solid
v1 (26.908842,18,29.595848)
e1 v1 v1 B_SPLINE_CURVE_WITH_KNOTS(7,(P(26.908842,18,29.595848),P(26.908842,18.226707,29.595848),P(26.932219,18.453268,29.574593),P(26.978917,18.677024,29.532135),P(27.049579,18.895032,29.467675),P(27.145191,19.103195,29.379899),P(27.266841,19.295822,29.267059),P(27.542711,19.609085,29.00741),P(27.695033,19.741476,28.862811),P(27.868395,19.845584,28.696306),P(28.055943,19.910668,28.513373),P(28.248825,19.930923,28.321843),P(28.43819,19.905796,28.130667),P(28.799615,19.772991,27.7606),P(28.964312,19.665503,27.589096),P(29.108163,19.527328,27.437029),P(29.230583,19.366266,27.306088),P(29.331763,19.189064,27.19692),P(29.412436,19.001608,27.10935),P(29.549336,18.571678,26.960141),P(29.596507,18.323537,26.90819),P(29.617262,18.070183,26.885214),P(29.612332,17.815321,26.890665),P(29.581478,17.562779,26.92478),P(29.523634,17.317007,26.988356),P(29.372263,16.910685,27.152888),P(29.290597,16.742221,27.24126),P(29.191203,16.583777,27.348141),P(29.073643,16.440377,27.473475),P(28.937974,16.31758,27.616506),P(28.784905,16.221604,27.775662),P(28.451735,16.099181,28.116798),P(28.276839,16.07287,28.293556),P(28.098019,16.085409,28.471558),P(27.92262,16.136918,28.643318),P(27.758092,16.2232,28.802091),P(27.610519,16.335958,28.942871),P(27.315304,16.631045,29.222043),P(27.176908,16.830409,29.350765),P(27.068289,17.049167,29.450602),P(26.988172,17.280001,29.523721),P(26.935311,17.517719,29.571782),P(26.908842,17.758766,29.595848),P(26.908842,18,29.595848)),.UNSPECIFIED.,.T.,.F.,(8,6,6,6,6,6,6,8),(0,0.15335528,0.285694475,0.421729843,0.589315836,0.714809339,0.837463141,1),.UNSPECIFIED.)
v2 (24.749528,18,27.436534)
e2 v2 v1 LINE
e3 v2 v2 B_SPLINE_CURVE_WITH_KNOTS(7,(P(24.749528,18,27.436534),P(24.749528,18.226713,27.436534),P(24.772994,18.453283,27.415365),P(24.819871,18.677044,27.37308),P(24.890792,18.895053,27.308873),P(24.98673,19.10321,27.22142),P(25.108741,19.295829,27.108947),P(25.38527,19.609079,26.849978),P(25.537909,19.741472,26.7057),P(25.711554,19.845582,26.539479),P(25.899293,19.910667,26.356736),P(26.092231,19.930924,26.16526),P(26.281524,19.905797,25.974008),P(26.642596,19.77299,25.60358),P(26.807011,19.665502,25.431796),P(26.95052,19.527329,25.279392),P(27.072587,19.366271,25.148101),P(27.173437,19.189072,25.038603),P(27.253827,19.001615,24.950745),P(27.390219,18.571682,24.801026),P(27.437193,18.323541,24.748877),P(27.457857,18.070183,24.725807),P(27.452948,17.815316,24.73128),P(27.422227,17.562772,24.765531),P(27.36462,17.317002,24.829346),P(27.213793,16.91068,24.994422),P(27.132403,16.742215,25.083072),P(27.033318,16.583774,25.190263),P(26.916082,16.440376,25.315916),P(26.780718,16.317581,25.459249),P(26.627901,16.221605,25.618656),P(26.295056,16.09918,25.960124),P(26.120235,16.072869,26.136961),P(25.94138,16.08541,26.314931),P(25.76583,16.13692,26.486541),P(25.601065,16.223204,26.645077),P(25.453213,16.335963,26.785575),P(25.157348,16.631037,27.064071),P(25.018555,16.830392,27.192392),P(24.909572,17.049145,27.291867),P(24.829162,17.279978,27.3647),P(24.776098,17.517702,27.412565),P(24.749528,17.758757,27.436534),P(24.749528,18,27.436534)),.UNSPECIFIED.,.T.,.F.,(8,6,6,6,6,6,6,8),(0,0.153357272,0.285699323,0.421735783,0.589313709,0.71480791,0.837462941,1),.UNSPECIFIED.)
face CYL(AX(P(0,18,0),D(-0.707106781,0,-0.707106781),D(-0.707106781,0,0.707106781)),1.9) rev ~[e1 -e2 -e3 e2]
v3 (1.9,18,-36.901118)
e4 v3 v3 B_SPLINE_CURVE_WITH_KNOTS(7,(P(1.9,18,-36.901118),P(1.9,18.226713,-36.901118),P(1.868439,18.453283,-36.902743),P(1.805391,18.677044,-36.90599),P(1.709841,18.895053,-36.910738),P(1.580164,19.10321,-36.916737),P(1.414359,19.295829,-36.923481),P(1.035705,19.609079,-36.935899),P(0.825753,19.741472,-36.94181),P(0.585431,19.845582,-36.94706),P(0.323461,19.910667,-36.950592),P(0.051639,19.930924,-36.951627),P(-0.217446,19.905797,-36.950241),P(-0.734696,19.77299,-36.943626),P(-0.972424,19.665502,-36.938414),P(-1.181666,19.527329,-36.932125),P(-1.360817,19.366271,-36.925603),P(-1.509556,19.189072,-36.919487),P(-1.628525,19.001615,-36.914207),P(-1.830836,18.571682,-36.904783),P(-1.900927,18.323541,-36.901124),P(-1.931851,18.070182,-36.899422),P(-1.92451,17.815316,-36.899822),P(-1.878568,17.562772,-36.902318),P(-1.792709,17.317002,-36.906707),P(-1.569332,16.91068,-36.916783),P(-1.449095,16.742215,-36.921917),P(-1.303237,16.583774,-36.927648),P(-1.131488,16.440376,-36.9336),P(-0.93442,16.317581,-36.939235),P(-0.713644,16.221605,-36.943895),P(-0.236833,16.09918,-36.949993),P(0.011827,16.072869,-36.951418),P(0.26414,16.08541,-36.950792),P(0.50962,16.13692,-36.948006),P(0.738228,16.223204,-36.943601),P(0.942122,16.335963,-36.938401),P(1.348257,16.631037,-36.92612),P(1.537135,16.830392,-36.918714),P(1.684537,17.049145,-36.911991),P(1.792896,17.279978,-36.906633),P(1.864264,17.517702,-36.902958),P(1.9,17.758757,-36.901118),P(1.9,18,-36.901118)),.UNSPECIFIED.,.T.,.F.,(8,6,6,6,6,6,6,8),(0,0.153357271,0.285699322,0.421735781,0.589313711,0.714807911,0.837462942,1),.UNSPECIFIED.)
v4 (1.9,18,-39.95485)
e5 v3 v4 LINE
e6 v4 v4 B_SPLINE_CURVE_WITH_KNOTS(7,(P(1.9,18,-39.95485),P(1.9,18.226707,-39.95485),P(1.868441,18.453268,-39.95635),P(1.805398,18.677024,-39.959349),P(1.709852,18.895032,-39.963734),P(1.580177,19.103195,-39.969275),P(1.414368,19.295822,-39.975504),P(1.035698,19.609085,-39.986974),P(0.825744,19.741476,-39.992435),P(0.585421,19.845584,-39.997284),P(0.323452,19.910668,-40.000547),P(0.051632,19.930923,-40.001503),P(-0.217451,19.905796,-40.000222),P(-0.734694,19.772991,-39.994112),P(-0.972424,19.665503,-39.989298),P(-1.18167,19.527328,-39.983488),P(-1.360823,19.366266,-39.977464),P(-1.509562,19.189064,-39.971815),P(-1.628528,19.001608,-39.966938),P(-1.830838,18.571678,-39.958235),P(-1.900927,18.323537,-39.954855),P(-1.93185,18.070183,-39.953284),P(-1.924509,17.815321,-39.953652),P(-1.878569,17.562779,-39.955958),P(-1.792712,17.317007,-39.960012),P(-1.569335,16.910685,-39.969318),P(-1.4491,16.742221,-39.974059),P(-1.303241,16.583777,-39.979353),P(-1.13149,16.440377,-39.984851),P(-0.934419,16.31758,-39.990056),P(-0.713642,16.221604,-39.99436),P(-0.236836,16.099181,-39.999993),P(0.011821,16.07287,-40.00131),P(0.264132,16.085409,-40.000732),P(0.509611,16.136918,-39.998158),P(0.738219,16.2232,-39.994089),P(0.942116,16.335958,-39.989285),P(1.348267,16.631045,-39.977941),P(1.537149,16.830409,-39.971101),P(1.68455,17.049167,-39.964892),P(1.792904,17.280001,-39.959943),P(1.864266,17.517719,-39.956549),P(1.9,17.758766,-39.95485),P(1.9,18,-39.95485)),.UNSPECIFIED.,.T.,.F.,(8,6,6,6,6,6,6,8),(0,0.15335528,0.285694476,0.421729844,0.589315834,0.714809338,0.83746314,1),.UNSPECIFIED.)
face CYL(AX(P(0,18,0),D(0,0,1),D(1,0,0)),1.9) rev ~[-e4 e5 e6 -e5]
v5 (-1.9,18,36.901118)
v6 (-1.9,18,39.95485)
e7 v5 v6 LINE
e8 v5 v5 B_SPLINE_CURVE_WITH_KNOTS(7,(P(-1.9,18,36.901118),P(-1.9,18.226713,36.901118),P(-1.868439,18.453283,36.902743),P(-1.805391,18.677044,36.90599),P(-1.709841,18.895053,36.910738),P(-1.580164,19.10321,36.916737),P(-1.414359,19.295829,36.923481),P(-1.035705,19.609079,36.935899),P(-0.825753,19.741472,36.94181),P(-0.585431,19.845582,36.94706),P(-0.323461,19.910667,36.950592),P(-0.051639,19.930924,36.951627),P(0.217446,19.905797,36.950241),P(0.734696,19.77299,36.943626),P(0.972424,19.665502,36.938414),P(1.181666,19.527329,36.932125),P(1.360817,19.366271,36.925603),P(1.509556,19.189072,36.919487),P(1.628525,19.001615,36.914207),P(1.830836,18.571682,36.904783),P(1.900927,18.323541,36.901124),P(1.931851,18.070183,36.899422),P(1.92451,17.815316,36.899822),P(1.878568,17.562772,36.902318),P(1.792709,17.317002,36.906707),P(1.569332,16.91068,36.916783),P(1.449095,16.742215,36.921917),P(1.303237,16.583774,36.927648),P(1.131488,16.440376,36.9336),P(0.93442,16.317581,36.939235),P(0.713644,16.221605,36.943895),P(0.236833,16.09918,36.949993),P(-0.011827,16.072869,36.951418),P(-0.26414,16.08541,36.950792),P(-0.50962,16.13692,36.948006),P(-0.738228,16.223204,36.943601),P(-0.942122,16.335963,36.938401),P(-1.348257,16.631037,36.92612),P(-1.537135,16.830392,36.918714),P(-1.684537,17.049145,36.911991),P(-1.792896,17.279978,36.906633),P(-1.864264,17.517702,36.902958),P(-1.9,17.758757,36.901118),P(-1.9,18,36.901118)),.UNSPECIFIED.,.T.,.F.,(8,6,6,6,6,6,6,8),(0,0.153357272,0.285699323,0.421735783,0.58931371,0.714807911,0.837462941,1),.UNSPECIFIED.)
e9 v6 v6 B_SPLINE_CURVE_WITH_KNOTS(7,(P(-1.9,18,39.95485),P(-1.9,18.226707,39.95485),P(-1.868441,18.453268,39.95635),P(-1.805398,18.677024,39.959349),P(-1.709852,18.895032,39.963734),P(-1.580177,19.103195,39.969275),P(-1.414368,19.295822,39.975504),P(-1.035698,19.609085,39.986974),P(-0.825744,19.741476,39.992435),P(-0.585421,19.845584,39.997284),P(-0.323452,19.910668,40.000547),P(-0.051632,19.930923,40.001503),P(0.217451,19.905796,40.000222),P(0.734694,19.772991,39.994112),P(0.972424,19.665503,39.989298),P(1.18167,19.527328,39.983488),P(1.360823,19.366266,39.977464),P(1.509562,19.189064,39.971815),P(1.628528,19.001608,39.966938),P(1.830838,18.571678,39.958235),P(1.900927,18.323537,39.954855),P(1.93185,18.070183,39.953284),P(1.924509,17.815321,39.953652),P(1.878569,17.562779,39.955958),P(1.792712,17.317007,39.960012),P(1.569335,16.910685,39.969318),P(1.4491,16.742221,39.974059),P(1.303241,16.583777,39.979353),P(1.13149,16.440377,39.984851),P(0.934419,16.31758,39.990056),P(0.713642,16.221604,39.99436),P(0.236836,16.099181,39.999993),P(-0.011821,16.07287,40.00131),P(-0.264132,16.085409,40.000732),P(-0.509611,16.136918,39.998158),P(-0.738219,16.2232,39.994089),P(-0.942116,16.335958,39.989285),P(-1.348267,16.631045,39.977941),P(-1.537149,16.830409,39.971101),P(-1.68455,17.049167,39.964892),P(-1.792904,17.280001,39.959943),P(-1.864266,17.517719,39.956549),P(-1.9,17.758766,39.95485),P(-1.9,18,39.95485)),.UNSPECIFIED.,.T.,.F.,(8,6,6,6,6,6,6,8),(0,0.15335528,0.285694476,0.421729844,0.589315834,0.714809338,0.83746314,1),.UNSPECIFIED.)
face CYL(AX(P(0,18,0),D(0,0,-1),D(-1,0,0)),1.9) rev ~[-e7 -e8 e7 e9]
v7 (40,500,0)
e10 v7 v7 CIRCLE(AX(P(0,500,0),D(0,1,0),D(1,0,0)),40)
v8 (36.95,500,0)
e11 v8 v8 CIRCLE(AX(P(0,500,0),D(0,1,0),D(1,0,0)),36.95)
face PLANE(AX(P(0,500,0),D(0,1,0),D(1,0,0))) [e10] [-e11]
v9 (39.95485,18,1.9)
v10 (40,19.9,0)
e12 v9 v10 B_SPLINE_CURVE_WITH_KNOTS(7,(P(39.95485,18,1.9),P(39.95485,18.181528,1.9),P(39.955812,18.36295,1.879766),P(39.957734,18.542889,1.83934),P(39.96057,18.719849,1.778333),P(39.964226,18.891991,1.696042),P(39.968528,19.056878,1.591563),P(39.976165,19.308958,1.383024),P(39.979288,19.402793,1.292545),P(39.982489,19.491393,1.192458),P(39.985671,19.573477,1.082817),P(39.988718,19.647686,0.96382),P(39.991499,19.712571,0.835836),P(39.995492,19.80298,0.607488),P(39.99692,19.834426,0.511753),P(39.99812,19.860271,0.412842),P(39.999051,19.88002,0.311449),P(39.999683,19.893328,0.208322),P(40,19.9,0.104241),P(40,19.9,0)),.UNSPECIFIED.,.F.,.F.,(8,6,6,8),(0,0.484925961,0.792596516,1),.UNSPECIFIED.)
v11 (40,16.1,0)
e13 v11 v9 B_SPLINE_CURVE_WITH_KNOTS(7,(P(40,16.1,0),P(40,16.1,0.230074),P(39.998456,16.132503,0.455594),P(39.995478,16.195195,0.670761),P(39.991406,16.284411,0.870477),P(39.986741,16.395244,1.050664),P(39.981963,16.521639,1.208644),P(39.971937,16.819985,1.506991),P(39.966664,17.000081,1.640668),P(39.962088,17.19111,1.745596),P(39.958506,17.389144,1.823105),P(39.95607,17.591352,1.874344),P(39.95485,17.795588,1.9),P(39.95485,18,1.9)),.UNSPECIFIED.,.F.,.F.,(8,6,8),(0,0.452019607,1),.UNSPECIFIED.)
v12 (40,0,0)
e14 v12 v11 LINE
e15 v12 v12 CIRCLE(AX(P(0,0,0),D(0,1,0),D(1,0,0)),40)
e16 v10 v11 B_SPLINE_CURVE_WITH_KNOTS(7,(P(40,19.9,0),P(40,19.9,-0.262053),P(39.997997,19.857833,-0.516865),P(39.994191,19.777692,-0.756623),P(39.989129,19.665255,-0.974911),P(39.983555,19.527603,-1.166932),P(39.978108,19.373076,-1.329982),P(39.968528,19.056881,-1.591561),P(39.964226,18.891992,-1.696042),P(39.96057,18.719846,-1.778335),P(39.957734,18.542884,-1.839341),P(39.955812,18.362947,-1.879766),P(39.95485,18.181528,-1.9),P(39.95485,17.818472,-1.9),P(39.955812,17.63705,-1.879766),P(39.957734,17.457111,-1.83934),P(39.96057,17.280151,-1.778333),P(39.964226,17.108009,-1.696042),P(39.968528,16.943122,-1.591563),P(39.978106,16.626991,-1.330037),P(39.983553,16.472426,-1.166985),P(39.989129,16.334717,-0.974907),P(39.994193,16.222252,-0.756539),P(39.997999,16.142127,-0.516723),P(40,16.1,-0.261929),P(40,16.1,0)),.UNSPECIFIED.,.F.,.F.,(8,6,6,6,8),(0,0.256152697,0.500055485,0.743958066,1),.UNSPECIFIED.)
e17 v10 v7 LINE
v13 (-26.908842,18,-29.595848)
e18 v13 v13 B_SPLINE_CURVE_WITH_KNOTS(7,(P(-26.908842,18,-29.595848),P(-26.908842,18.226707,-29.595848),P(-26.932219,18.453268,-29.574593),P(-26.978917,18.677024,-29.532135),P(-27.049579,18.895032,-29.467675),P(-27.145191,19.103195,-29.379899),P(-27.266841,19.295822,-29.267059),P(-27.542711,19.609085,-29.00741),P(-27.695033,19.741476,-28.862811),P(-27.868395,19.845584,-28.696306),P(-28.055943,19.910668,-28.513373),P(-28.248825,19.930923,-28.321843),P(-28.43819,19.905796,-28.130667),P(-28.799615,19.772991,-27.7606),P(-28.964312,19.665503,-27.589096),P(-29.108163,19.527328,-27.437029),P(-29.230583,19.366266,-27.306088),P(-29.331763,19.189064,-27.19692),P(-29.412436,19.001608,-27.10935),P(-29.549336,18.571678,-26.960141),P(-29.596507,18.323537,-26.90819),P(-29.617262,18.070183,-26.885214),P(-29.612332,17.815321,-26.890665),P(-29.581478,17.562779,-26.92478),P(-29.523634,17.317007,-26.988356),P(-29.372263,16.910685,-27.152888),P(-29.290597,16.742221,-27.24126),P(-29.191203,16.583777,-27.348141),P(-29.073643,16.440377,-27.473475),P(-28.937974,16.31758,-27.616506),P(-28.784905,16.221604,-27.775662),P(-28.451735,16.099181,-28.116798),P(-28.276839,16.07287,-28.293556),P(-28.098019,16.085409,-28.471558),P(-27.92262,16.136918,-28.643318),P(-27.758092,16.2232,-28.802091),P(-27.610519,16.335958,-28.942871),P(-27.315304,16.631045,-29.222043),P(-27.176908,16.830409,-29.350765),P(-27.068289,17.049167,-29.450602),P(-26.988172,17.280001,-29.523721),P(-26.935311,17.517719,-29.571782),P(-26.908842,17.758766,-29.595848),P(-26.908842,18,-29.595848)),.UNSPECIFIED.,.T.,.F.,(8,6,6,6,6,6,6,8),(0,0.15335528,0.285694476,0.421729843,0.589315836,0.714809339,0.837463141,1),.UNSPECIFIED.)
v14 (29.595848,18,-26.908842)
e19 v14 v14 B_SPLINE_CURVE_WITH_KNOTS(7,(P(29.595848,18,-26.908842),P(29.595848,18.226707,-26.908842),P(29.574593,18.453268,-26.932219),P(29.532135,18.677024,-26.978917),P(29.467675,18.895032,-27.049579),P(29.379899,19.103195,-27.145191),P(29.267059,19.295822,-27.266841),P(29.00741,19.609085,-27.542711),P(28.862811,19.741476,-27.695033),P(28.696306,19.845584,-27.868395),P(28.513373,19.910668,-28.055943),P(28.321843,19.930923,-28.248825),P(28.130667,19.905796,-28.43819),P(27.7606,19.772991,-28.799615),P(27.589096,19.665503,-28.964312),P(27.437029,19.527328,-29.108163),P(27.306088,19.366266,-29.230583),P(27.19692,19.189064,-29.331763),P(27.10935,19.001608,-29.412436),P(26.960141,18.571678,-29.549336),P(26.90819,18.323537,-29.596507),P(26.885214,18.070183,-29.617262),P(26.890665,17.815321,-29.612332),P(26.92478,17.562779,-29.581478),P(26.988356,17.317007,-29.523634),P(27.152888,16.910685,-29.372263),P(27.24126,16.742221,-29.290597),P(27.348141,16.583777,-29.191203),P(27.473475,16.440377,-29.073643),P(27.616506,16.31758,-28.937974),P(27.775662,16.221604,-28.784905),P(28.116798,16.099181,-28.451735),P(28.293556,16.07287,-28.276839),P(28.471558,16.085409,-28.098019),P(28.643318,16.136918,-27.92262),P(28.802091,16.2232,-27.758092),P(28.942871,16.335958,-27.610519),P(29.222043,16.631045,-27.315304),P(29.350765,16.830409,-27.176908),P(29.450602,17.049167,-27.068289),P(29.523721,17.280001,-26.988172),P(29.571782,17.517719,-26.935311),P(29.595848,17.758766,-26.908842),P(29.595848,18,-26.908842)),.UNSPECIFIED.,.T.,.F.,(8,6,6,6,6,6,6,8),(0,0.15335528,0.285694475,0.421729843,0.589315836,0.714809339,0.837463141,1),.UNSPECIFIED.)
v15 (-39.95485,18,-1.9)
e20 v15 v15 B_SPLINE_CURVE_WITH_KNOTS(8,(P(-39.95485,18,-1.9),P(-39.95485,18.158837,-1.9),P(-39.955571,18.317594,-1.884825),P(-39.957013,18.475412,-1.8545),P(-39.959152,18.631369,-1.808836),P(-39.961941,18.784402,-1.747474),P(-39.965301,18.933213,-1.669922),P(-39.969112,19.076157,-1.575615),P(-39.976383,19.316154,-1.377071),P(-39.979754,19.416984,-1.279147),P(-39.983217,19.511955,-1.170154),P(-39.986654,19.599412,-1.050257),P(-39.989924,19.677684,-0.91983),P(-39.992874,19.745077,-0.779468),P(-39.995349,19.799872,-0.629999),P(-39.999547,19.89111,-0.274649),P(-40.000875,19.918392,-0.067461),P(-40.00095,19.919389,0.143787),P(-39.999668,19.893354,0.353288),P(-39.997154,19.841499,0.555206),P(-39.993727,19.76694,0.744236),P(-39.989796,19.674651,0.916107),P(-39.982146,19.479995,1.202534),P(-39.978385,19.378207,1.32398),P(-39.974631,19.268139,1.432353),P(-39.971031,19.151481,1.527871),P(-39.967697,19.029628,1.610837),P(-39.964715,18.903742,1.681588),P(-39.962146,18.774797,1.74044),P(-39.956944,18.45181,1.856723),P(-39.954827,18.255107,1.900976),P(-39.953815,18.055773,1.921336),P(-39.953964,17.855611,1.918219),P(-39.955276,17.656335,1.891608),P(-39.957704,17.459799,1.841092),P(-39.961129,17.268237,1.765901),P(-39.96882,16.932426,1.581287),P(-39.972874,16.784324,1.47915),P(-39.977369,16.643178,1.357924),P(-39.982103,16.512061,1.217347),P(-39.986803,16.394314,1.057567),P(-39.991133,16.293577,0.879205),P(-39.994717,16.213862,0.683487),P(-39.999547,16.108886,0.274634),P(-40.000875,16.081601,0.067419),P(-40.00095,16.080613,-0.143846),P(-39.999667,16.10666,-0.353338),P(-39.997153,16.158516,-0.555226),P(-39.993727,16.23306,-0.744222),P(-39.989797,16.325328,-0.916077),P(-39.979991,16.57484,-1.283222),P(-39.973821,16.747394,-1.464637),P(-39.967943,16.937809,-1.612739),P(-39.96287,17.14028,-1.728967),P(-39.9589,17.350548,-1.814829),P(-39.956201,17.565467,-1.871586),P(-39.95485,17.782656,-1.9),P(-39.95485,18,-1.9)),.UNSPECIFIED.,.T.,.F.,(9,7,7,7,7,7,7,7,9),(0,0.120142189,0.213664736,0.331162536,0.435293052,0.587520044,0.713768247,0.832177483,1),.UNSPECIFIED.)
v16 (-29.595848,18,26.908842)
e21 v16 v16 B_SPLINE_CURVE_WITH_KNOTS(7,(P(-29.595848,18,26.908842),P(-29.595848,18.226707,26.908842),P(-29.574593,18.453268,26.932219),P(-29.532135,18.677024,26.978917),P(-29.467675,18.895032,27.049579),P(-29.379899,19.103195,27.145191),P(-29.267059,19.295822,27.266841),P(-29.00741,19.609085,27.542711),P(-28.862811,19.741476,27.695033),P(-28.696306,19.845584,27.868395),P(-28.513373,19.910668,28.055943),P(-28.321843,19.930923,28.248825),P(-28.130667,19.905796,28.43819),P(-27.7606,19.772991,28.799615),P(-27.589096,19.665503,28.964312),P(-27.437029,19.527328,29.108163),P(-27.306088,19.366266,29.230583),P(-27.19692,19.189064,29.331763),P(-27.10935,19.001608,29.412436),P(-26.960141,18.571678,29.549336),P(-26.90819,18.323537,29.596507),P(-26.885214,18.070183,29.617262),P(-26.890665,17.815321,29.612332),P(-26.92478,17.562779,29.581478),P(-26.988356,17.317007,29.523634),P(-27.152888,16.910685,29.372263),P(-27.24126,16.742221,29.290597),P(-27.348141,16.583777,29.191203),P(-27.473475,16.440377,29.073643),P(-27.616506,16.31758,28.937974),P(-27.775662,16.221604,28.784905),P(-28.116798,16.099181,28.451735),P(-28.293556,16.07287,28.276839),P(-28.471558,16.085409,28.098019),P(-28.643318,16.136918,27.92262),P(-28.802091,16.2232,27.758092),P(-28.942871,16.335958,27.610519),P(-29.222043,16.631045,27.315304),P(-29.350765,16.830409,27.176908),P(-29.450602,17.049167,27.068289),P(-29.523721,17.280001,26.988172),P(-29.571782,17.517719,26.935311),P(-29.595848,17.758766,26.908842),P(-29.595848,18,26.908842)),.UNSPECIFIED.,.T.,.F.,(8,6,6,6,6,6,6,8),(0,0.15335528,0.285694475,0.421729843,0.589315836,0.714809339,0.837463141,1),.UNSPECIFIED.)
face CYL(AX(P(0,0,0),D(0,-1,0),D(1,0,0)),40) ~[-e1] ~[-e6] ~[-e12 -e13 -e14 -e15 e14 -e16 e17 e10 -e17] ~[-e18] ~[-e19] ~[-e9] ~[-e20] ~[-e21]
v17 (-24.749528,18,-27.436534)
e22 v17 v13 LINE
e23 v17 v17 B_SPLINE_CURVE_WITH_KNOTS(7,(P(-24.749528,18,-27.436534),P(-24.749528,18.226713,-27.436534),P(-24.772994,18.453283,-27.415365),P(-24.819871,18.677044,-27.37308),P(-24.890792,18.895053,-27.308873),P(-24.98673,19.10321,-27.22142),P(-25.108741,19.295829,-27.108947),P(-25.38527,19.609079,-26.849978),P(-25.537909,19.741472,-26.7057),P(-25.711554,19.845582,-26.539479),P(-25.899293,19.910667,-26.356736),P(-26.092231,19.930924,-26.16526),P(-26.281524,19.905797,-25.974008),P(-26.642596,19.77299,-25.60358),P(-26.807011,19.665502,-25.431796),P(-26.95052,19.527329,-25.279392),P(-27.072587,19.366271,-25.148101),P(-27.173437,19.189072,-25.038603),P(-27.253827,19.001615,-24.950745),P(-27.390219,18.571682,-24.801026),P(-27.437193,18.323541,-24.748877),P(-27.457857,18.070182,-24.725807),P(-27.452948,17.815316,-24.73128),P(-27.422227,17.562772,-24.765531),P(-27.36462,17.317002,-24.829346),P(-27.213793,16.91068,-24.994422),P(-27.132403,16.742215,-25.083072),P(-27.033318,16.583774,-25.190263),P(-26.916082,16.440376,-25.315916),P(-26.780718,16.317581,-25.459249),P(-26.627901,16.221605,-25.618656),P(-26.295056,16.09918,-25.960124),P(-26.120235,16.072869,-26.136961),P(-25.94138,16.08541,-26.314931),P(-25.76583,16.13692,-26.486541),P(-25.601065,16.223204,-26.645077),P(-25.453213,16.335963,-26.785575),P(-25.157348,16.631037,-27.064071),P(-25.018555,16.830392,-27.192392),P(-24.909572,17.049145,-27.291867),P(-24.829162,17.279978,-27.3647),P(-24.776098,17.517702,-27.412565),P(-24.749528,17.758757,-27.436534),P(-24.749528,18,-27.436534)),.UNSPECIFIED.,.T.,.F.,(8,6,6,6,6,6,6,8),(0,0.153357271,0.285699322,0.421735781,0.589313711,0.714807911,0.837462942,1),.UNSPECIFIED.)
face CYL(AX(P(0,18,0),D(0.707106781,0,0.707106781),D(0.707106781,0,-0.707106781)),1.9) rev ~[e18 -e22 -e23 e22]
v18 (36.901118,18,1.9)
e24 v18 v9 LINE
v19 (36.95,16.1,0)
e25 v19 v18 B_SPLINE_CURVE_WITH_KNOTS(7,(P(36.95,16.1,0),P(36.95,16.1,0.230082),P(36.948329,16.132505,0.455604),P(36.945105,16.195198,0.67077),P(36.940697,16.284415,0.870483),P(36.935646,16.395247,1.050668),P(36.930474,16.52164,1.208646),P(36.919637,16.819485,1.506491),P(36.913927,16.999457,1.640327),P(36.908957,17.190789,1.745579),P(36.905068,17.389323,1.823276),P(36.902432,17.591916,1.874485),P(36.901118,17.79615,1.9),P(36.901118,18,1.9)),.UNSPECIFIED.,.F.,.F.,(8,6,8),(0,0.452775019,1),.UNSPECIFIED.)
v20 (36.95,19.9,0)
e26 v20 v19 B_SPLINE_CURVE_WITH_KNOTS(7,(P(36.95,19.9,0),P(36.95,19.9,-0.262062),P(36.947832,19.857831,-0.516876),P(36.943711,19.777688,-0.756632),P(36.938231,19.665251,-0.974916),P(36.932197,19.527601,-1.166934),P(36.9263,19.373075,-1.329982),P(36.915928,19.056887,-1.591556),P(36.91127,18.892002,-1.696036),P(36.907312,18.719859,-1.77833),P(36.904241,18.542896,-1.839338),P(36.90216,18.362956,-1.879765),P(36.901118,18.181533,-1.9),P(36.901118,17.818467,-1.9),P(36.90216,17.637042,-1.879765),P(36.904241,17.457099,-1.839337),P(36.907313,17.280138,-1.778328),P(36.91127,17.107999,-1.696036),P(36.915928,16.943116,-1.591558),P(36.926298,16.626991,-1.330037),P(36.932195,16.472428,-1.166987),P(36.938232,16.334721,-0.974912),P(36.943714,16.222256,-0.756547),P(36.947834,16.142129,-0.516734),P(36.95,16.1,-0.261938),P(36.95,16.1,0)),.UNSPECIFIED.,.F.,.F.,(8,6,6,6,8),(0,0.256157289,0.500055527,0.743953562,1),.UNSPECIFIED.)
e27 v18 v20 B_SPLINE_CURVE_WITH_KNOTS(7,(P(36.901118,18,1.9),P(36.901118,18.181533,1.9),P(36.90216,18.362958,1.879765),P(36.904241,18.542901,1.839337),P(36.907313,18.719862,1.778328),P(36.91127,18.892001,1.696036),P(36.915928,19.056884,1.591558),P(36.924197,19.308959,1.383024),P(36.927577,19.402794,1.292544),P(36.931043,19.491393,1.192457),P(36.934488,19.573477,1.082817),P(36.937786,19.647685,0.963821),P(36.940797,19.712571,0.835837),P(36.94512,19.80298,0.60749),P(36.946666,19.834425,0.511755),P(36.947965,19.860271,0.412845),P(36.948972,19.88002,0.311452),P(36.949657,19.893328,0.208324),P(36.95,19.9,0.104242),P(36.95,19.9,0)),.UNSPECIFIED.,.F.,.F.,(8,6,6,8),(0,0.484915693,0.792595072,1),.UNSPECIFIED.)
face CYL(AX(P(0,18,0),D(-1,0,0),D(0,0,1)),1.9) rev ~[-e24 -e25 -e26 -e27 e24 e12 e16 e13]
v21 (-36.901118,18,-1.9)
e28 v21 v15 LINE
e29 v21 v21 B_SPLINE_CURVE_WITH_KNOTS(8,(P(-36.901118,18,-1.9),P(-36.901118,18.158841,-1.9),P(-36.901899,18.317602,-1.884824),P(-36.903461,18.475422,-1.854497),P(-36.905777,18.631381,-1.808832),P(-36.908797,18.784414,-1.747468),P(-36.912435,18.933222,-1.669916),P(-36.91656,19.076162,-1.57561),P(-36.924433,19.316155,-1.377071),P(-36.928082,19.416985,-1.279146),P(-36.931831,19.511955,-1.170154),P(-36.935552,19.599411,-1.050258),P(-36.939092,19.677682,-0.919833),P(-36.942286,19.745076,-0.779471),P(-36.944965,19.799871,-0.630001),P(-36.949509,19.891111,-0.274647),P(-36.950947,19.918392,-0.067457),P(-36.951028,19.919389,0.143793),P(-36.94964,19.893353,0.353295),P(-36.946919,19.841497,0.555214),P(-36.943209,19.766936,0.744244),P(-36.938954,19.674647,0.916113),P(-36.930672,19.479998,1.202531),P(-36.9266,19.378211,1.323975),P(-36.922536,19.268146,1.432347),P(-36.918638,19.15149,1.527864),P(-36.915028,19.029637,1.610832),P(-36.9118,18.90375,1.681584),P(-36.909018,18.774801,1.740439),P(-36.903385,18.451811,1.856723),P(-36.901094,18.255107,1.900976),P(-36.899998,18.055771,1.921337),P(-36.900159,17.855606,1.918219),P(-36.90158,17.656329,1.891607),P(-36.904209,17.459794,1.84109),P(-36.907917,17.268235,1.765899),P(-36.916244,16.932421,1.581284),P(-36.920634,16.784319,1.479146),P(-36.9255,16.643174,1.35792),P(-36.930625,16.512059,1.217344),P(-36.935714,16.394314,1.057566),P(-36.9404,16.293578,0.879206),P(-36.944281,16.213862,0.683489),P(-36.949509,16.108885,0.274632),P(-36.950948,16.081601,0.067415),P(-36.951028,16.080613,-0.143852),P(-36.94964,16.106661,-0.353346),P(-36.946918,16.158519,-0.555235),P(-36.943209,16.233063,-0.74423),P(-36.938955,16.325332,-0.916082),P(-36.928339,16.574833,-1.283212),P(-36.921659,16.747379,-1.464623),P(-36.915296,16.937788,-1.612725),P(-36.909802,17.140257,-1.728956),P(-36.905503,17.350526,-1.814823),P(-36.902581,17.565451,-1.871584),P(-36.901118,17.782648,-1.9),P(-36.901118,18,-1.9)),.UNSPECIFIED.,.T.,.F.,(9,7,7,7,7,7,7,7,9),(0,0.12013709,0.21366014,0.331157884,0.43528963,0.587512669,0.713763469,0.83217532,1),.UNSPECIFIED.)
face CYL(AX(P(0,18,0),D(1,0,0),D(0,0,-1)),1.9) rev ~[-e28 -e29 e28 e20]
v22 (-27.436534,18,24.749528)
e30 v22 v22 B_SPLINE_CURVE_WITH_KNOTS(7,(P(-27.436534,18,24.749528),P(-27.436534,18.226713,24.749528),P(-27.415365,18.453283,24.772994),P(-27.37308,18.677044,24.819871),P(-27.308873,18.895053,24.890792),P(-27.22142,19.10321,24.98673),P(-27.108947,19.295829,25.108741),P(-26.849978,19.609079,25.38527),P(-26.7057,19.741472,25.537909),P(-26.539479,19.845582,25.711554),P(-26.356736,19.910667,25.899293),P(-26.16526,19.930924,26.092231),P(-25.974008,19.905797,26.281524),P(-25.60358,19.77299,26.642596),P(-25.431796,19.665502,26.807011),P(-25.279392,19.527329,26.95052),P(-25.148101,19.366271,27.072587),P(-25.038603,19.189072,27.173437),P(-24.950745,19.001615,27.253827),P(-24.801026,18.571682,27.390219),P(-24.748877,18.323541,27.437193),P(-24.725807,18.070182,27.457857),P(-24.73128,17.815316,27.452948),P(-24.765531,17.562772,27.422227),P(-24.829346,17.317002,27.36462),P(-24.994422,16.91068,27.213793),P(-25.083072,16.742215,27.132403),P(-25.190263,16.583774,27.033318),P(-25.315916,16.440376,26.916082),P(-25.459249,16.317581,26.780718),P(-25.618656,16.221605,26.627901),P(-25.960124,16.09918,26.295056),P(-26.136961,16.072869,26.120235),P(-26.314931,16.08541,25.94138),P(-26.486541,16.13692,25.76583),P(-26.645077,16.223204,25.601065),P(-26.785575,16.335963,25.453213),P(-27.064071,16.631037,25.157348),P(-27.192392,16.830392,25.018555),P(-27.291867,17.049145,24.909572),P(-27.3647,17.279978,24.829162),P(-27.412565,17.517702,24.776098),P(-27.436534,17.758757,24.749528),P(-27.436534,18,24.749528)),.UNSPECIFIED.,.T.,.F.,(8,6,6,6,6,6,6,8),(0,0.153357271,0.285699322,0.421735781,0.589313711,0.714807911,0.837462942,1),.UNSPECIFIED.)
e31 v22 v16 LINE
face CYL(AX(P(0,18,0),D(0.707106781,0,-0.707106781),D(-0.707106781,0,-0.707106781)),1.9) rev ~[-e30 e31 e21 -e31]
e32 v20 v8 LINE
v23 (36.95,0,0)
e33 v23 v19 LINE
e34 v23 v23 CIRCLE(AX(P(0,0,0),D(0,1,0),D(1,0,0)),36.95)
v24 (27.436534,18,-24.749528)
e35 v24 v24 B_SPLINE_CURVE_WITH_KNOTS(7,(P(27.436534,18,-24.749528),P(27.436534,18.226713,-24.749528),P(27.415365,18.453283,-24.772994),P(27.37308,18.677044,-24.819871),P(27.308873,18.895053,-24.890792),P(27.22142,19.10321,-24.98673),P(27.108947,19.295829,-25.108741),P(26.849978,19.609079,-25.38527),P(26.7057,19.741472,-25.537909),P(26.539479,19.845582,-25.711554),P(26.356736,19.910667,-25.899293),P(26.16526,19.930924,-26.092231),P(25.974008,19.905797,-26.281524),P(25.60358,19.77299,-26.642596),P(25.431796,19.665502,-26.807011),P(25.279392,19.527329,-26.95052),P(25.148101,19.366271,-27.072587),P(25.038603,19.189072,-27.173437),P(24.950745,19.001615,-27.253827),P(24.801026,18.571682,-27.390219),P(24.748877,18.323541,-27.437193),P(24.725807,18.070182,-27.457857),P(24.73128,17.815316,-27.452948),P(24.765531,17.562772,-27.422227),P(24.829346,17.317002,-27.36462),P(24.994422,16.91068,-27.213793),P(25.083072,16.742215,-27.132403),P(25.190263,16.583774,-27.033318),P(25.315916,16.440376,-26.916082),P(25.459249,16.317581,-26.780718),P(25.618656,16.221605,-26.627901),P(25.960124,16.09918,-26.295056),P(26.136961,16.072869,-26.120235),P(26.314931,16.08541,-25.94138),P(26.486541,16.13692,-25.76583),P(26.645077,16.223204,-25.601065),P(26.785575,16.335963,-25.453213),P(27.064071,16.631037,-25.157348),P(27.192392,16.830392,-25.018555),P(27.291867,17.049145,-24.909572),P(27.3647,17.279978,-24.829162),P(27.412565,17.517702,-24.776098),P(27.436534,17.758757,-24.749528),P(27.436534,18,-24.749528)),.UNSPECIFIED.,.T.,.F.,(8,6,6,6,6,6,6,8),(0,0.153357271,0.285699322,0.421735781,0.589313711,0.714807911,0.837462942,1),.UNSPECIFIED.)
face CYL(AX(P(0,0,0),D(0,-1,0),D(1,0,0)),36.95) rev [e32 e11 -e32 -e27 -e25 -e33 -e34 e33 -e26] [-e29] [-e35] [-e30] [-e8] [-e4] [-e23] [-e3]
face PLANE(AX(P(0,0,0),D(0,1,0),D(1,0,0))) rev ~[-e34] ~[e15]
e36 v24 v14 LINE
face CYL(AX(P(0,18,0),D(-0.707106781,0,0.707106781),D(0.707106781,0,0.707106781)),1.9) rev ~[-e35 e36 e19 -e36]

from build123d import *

# Parameters (mm, degrees)
SKETCH1_R           = 40
SKETCH1_R_2         = 36.95
BOSS_EXTRUDE1_DEPTH = 500
SKETCH2_R           = 1.9
CUT_EXTRUDE1_DEPTH  = 66
CIRPATTERN2_COUNT   = 8


with BuildPart() as part:
    # Sketch1 → Boss-Extrude1 (new body)
    with BuildSketch(Plane(origin=(0, 0, 0), x_dir=(1, 0, 0), z_dir=(0, 1, 0))):
        Circle(SKETCH1_R)
        Circle(SKETCH1_R_2, mode=Mode.SUBTRACT)
    extrude(amount=BOSS_EXTRUDE1_DEPTH)

    # Sketch2 → Cut-Extrude1 (cut)
    with BuildSketch(Plane.XY):
        with Locations((0, 18)):
            Circle(SKETCH2_R)
    cut_extrude1 = extrude(amount=-CUT_EXTRUDE1_DEPTH, mode=Mode.SUBTRACT)

    # CirPattern2: Cut-Extrude1 ×8 about axis
    cirpattern2_axis = Axis((0, 500, 0), (0, -1, 0))
    for i in range(1, CIRPATTERN2_COUNT):
        add(cut_extrude1.rotate(cirpattern2_axis, i * 360 / CIRPATTERN2_COUNT), mode=Mode.SUBTRACT)


solid = part.part
